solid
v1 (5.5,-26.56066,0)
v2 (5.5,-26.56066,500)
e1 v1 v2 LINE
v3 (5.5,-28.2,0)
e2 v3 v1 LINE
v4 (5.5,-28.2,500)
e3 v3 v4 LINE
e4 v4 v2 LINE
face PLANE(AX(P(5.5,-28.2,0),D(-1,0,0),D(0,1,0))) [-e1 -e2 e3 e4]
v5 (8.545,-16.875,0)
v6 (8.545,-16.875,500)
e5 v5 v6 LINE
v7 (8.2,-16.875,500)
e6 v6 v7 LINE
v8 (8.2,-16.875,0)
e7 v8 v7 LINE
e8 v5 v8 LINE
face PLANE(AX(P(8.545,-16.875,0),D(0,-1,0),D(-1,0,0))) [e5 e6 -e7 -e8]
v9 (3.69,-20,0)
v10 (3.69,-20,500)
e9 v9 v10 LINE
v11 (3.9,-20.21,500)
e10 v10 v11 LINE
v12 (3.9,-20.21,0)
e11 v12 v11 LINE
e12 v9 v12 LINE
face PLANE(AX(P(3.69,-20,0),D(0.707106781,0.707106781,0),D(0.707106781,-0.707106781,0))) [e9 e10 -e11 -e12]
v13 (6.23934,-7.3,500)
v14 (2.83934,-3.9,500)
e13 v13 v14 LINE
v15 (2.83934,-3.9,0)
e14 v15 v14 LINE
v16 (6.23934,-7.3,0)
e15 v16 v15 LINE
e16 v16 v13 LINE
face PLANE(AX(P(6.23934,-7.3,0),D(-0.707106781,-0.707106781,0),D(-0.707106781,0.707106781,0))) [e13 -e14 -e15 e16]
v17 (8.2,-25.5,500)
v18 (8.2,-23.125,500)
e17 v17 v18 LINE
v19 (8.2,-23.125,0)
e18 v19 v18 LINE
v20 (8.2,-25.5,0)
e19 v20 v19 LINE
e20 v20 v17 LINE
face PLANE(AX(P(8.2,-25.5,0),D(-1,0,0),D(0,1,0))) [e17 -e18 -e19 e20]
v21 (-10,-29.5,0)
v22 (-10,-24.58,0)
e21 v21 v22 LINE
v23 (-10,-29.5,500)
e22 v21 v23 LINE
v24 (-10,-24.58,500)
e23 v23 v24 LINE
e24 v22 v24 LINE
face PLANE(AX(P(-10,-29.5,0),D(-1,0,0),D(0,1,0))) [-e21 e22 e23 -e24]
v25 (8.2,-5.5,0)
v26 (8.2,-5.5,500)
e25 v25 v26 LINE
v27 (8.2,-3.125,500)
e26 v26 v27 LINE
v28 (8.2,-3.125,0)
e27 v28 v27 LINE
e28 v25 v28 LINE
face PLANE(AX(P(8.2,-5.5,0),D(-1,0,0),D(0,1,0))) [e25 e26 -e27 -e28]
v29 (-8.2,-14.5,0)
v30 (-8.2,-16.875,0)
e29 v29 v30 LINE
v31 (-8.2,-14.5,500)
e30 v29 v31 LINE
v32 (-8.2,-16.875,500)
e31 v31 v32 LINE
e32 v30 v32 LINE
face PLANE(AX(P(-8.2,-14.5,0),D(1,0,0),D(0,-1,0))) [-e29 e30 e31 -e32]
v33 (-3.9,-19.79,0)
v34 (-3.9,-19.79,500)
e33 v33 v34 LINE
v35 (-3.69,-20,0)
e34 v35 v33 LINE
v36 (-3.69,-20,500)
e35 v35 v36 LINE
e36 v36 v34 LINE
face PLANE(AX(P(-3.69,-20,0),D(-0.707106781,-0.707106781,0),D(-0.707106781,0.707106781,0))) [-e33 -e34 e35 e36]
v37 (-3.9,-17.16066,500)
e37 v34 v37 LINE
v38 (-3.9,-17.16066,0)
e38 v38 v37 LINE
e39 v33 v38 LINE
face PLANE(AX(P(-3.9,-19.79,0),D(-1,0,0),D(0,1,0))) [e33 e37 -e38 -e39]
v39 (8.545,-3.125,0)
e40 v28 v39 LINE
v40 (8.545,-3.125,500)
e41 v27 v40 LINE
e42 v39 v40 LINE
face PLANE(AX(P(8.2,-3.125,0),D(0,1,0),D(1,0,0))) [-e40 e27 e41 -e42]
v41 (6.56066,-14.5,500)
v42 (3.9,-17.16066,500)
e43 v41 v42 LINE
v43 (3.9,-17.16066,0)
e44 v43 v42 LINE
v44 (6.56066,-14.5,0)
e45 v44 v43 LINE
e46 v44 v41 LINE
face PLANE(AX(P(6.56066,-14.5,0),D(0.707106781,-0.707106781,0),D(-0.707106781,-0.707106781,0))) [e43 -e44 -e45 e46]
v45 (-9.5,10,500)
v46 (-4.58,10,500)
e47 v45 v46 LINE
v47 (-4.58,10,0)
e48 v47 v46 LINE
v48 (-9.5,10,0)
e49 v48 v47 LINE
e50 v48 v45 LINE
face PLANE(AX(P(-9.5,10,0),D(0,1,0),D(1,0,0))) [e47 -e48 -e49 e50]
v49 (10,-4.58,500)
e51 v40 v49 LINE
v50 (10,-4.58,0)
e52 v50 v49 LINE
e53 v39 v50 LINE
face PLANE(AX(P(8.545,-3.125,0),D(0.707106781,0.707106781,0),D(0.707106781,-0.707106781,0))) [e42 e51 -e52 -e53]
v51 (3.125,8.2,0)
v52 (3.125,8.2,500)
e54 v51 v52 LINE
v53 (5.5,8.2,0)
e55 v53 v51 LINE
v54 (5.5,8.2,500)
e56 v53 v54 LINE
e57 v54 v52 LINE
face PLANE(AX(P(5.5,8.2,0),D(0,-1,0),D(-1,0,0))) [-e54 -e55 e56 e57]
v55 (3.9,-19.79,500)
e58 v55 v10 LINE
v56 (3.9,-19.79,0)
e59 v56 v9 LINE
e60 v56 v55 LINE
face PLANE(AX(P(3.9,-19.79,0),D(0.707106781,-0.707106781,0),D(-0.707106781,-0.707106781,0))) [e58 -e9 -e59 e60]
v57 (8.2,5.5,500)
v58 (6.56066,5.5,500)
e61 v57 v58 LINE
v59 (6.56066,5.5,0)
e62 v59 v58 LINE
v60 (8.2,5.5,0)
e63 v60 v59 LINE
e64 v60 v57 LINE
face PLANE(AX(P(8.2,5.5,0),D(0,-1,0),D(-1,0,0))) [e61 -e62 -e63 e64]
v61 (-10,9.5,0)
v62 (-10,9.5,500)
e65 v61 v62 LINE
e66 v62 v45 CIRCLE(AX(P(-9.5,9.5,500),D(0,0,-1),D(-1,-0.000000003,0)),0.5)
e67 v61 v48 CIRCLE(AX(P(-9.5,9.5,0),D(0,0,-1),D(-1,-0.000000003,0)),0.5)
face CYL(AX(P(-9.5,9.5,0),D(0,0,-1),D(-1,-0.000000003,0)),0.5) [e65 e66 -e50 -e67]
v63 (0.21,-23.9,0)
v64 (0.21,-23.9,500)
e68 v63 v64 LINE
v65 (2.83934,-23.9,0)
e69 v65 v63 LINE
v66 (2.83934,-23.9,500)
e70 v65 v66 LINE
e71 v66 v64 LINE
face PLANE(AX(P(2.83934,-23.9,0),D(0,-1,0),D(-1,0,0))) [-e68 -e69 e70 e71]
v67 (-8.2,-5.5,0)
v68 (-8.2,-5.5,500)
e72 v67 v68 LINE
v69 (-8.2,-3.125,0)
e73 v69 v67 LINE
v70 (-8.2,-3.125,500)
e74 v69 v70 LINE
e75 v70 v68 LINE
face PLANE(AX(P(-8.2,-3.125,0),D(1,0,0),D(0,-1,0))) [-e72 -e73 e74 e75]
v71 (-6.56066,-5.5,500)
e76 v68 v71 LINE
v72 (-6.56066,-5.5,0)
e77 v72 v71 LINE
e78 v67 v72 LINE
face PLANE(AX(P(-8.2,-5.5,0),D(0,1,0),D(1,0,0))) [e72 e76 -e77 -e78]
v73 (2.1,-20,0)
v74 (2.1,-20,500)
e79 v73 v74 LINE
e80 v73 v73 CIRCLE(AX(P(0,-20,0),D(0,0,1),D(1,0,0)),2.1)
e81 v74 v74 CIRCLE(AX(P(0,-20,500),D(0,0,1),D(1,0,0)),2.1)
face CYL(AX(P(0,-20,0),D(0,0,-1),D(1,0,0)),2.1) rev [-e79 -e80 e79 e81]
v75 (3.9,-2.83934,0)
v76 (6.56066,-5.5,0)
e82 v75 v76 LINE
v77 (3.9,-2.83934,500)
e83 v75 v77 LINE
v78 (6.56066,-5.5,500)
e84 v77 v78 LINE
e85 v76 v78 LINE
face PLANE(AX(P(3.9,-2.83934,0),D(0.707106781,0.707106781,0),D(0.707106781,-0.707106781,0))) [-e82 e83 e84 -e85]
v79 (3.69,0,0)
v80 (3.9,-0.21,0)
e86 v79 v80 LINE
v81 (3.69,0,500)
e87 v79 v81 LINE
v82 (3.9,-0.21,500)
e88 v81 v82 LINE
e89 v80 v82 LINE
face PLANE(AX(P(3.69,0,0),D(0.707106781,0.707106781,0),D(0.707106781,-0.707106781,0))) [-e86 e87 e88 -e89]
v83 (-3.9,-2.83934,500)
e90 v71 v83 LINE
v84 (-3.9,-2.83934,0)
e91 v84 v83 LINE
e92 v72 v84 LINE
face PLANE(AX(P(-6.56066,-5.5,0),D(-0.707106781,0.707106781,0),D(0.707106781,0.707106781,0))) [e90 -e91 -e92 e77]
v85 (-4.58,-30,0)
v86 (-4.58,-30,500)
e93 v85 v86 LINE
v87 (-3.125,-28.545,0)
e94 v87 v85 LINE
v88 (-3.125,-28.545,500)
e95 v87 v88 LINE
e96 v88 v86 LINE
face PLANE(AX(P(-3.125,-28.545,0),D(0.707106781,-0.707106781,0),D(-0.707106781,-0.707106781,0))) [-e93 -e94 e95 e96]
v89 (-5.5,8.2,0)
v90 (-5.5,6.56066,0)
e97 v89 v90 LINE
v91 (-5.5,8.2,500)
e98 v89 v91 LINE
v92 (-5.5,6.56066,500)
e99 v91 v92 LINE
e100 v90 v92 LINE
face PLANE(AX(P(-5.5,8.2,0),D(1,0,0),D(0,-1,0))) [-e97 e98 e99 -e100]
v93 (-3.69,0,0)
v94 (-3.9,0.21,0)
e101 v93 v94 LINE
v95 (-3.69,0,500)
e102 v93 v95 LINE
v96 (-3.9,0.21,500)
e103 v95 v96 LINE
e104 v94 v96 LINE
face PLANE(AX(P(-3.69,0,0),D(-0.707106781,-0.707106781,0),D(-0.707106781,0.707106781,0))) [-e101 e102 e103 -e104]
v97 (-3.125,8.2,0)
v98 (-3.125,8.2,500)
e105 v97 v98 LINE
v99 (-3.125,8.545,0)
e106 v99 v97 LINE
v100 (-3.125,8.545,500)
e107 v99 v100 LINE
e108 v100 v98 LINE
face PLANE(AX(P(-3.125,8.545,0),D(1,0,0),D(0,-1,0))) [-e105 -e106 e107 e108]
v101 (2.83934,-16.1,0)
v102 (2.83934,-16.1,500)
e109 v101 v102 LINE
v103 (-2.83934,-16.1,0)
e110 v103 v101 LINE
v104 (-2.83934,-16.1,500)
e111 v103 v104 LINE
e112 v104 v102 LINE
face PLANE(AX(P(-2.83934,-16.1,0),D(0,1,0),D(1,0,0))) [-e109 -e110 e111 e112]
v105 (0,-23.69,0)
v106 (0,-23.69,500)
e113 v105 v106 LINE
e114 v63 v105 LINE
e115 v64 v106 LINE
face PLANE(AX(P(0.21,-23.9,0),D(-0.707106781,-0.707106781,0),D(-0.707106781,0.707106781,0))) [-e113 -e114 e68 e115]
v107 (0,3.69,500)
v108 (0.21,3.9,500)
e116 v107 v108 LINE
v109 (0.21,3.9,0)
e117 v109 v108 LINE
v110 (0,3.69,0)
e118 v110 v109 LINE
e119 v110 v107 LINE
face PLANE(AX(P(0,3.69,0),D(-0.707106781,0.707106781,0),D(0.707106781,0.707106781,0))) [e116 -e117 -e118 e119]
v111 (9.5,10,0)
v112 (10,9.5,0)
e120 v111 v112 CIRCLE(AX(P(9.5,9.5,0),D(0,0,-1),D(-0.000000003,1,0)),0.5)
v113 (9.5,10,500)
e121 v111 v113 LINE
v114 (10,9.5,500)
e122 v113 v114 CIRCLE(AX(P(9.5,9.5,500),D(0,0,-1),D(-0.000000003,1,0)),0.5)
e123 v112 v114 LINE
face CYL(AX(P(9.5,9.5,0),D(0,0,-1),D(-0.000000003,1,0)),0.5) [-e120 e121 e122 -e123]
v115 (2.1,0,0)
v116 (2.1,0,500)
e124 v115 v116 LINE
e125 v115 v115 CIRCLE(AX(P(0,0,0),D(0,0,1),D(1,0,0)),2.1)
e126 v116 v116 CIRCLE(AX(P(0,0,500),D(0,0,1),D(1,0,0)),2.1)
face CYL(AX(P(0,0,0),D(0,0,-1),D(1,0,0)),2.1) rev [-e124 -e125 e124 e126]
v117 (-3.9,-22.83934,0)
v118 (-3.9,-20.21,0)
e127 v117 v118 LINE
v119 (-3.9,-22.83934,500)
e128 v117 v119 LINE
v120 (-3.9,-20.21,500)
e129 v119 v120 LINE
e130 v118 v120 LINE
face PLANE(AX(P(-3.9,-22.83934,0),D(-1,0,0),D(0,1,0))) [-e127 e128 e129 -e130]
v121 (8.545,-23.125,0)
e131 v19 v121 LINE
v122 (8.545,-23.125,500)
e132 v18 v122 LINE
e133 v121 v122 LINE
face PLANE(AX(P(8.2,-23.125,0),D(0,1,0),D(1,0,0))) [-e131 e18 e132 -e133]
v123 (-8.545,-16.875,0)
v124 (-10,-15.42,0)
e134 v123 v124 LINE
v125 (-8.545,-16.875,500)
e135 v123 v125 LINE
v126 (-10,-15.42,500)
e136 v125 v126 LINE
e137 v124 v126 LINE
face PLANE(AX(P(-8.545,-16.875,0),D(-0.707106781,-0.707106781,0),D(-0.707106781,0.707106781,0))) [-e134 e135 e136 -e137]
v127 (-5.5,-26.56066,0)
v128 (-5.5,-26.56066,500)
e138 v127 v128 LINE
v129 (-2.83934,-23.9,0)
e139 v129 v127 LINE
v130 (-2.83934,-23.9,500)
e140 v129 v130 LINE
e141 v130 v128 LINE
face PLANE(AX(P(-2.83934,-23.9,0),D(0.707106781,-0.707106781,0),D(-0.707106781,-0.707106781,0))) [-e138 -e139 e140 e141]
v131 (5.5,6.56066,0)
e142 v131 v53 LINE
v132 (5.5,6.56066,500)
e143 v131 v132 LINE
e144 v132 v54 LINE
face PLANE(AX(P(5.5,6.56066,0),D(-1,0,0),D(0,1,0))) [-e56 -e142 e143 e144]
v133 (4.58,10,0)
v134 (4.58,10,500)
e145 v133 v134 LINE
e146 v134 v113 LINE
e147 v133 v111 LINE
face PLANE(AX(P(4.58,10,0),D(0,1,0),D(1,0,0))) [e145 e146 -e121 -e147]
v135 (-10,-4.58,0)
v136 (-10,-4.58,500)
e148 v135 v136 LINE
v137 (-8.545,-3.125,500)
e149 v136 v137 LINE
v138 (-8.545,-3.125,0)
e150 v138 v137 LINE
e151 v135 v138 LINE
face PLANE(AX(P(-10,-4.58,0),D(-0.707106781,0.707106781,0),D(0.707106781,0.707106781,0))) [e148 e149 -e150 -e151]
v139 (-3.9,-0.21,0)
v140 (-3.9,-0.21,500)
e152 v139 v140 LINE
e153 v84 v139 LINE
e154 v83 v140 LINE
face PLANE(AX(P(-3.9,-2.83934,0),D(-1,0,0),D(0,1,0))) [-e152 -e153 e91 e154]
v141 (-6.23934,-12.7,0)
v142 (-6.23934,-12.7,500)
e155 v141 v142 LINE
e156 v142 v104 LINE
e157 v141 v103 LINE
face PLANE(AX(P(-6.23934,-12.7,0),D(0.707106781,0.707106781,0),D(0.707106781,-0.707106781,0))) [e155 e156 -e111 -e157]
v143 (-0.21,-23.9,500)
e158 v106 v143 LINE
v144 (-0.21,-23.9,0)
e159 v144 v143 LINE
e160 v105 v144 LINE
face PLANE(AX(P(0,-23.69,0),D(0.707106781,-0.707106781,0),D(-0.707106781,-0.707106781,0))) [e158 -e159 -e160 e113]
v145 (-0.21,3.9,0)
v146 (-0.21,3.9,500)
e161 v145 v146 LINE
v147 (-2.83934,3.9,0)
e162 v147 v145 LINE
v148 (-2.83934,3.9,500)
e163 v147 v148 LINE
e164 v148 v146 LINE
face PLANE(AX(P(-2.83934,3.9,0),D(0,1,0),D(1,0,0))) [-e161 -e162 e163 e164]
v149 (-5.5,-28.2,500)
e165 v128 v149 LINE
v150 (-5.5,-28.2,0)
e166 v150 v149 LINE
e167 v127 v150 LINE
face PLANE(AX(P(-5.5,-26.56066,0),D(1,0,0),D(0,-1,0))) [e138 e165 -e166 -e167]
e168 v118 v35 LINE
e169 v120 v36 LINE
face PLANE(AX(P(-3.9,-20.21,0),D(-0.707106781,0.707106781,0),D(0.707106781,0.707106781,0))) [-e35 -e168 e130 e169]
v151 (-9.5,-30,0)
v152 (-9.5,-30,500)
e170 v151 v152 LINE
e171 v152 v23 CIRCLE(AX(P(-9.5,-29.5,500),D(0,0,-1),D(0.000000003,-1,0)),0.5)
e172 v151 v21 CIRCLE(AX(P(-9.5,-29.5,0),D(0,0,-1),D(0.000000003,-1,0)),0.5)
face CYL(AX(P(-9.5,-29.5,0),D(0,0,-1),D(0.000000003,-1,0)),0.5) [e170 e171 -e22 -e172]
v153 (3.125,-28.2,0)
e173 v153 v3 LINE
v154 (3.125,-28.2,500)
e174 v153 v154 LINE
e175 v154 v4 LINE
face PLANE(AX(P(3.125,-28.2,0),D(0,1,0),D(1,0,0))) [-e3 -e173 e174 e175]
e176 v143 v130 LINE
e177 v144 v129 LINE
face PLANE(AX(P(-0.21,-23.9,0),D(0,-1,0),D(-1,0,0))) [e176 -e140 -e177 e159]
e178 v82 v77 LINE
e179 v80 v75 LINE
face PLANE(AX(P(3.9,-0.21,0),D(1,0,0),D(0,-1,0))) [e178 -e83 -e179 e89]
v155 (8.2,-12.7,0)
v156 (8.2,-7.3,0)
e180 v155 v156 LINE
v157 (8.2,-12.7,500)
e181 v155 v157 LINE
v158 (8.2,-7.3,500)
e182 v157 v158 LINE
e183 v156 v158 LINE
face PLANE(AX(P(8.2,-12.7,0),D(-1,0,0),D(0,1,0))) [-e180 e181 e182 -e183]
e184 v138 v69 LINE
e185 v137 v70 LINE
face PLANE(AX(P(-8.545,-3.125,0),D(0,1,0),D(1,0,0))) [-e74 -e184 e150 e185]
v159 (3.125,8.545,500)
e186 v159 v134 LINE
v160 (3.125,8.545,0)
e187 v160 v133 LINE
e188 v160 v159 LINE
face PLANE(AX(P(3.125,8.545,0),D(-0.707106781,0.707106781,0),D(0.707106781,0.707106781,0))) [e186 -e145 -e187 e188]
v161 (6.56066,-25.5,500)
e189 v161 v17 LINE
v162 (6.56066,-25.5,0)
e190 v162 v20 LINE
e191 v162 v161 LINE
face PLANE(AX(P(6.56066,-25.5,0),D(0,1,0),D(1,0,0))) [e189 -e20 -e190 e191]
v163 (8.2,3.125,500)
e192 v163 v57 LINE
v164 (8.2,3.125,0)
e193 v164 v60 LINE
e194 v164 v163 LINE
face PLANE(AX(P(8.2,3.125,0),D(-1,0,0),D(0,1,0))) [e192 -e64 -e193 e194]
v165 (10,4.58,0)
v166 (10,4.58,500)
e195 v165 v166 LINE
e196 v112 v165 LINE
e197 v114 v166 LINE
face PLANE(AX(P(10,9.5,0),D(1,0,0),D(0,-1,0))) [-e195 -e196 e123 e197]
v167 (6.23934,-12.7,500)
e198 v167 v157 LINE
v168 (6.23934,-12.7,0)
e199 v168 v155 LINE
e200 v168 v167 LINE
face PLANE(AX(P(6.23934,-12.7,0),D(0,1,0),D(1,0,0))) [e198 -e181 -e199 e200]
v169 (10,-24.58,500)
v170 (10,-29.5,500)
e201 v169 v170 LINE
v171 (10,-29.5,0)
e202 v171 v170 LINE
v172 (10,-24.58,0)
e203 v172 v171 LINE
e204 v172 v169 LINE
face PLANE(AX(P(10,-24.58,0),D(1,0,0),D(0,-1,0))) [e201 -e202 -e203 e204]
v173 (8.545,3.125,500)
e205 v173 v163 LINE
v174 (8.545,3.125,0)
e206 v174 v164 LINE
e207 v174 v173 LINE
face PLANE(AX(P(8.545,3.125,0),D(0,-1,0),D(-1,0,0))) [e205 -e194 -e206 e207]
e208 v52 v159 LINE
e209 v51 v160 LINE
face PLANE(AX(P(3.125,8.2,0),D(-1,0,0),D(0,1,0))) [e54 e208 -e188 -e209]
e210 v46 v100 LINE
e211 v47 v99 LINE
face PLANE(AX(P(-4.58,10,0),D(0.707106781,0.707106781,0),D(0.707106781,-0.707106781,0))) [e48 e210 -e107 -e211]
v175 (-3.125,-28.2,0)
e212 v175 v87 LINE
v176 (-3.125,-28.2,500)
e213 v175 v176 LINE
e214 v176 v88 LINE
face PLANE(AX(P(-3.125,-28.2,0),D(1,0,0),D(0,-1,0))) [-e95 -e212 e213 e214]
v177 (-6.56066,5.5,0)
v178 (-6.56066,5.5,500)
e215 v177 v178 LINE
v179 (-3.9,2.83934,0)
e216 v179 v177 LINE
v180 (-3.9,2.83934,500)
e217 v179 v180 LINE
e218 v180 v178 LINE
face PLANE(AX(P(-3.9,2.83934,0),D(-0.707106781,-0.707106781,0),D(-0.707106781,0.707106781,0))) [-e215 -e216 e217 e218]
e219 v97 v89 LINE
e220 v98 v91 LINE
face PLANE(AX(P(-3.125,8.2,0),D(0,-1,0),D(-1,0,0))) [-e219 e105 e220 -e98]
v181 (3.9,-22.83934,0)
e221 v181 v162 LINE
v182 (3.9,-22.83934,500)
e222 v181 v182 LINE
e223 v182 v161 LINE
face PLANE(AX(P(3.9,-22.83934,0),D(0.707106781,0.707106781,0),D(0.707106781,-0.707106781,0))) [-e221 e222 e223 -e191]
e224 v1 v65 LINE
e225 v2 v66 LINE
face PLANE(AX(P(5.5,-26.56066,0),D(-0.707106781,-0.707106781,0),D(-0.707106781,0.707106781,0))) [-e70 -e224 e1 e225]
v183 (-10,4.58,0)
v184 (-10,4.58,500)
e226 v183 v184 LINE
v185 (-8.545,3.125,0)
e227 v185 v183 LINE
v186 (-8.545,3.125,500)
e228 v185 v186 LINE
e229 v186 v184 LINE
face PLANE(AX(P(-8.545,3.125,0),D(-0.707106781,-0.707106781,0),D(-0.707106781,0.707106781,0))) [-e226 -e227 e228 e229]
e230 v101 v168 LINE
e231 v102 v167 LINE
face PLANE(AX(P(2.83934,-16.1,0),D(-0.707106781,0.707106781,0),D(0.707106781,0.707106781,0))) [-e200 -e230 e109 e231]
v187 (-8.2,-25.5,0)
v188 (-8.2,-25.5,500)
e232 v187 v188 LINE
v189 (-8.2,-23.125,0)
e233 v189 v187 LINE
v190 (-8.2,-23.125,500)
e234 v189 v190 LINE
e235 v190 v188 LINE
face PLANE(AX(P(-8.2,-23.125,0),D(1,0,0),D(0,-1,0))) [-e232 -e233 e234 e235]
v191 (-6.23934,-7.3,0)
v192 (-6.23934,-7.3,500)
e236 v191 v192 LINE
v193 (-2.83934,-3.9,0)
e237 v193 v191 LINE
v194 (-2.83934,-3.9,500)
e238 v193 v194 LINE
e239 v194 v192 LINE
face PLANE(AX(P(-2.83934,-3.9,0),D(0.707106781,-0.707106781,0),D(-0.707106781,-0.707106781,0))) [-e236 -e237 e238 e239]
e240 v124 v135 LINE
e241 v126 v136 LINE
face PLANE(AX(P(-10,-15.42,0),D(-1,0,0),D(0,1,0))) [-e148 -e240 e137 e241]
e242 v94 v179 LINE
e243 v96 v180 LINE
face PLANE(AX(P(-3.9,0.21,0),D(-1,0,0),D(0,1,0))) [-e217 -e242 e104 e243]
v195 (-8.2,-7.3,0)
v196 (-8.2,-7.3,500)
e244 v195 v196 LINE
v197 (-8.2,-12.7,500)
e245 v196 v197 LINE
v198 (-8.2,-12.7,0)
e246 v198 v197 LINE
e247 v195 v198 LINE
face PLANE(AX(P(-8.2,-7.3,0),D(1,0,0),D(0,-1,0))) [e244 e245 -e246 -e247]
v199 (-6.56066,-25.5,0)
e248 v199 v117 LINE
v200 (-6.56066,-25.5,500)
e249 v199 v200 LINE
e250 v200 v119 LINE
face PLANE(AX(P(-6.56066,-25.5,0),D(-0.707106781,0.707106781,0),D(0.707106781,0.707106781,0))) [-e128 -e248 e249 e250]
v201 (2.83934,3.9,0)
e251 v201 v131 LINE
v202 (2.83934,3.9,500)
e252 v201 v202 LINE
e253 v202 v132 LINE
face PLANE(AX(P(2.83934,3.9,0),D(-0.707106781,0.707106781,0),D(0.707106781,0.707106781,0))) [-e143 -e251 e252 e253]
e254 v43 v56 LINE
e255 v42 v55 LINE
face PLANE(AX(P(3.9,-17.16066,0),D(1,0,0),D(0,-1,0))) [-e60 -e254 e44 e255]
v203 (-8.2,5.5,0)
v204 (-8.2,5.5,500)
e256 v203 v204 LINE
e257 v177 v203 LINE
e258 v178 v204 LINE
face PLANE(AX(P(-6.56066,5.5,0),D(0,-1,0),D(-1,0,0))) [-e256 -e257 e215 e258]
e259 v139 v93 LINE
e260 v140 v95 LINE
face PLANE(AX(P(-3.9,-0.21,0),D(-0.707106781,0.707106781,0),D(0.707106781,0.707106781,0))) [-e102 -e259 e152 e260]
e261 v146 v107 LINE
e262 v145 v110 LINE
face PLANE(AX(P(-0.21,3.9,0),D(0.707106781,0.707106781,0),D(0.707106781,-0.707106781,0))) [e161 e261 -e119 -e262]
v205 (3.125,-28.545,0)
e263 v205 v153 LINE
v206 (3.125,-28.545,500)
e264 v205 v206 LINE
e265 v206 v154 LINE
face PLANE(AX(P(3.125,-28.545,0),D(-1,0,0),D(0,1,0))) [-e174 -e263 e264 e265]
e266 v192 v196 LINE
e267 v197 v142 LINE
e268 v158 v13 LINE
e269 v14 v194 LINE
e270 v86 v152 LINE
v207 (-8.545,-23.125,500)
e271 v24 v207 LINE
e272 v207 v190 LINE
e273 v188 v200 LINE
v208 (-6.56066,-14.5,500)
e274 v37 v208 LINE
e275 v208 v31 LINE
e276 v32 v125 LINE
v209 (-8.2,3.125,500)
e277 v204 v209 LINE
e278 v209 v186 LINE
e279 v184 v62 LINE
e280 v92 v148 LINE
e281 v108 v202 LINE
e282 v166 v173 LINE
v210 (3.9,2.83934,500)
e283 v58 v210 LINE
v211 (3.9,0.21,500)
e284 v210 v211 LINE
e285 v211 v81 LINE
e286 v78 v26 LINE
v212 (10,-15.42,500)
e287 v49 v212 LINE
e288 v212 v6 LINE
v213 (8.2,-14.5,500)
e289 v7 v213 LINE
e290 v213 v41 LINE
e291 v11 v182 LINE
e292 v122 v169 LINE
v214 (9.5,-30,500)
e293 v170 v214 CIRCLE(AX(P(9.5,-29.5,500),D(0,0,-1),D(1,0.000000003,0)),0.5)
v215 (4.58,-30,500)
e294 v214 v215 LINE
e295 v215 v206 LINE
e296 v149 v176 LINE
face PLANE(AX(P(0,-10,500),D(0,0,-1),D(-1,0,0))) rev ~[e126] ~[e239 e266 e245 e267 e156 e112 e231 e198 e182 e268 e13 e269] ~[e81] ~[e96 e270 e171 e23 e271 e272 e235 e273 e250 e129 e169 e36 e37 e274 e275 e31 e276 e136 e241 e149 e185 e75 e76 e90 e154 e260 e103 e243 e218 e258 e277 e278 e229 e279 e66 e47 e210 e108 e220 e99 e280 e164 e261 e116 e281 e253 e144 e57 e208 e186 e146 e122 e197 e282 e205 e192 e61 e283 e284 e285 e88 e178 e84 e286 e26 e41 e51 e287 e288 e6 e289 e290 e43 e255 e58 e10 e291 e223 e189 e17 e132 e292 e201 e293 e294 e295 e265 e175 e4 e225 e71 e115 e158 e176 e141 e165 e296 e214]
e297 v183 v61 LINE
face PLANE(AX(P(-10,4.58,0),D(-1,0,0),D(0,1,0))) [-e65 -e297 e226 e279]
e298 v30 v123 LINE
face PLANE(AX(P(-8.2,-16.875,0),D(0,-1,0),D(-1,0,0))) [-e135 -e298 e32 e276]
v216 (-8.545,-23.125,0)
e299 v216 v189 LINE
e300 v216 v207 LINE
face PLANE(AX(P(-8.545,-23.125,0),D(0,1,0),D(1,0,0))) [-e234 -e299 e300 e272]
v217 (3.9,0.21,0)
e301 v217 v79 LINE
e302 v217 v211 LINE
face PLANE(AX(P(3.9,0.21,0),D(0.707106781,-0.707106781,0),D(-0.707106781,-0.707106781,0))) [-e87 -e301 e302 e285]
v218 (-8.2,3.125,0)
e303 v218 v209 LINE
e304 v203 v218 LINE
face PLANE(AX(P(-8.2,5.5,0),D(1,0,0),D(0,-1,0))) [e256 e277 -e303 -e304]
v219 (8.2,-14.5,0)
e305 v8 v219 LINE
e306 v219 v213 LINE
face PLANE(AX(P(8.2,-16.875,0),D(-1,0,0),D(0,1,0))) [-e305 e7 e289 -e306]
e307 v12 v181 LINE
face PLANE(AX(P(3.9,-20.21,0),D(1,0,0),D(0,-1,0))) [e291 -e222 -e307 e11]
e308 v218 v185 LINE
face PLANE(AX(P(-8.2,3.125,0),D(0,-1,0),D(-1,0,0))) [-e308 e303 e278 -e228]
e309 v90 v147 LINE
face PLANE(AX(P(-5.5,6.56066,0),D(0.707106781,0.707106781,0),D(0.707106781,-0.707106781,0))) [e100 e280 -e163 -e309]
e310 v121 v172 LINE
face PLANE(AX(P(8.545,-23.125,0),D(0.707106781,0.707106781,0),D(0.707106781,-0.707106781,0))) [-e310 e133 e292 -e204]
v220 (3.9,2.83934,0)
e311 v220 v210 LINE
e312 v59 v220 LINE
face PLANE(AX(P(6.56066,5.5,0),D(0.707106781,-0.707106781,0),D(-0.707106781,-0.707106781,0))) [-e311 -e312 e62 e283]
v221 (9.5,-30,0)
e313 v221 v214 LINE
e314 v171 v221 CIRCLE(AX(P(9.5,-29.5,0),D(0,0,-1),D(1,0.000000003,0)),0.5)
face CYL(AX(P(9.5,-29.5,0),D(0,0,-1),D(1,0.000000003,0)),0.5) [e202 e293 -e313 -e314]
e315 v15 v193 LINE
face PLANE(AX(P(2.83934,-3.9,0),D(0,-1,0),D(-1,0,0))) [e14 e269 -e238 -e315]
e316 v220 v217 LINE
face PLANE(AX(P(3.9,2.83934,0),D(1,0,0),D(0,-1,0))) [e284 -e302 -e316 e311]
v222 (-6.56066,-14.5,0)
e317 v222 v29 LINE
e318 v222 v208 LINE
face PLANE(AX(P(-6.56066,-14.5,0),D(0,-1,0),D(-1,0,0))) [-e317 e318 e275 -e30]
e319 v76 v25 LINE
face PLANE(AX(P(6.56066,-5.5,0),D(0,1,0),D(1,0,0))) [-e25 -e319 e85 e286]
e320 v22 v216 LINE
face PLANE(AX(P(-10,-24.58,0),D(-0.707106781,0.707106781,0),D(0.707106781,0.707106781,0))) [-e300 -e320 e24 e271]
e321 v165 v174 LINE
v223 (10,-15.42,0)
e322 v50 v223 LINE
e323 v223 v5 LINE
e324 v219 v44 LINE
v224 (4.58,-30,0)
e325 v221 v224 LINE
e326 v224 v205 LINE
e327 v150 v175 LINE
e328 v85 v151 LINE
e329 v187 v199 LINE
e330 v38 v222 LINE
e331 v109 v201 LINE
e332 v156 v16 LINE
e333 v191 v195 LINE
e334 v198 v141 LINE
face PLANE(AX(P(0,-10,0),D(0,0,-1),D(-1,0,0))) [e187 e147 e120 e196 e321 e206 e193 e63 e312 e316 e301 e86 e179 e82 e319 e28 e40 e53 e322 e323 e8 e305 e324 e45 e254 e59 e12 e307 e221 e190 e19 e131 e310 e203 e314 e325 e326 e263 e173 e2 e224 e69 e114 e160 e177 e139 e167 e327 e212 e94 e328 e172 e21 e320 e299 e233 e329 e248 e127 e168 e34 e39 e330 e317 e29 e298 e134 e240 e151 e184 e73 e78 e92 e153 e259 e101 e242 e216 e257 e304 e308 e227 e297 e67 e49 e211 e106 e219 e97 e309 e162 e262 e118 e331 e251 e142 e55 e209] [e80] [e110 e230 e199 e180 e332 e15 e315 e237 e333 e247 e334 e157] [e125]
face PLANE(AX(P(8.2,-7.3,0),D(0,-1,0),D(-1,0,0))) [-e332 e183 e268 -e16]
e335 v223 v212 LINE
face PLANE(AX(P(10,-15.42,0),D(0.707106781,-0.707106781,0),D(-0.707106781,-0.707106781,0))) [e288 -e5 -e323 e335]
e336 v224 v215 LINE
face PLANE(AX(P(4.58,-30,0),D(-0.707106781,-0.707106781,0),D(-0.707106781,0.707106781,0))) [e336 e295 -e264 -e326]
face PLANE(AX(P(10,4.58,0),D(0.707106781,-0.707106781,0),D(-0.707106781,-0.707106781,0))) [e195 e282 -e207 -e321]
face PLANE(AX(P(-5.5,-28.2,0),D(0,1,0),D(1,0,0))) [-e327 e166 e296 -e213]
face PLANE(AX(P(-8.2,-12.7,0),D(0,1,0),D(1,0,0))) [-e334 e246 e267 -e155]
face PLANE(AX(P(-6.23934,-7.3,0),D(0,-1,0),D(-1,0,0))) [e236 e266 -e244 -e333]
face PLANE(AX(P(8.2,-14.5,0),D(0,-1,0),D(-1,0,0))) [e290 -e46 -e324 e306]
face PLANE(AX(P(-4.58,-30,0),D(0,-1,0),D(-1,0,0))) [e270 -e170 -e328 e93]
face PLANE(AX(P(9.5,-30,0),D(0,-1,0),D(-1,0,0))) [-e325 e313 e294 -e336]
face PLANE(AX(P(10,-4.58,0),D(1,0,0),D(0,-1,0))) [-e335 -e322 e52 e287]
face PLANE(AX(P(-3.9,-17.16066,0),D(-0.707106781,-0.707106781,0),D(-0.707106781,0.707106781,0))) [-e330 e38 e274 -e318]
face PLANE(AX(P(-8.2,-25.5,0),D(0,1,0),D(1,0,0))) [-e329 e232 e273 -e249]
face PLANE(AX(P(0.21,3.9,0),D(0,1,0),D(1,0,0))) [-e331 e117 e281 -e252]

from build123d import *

# Parameters (mm, degrees)
SKETCH1_R           = 2.1
BOSS_EXTRUDE1_DEPTH = 500


with BuildPart() as part:
    # Sketch1 → Boss-Extrude1 (new body)
    with BuildSketch(Plane.XY):
        with BuildLine():
            Line((3.69, 0), (3.9, -0.21))
            Line((3.9, -0.21), (3.9, -2.839339828))
            Line((3.9, -2.839339828), (6.560660172, -5.5))
            Line((6.560660172, -5.5), (8.2, -5.5))
            Line((8.2, -5.5), (8.2, -3.125))
            Line((8.2, -3.125), (8.545, -3.125))
            Line((8.545, -3.125), (10, -4.58))
            Line((10, -4.58), (10, -15.42))
            Line((10, -15.42), (8.545, -16.875))
            Line((8.545, -16.875), (8.2, -16.875))
            Line((8.2, -16.875), (8.2, -14.5))
            Line((8.2, -14.5), (6.560660172, -14.5))
            Line((6.560660172, -14.5), (3.9, -17.160660172))
            Line((3.9, -17.160660172), (3.9, -19.79))
            Line((3.9, -19.79), (3.69, -20))
            Line((3.69, -20), (3.9, -20.21))
            Line((3.9, -20.21), (3.9, -22.839339828))
            Line((3.9, -22.839339828), (6.560660172, -25.5))
            Line((6.560660172, -25.5), (8.2, -25.5))
            Line((8.2, -25.5), (8.2, -23.125))
            Line((8.2, -23.125), (8.545, -23.125))
            Line((8.545, -23.125), (10, -24.58))
            Line((10, -24.58), (10, -29.5))
            ThreePointArc((10, -29.5), (9.853553391, -29.853553391), (9.5, -30))
            Line((9.5, -30), (4.58, -30))
            Line((4.58, -30), (3.125, -28.545))
            Line((3.125, -28.545), (3.125, -28.2))
            Line((3.125, -28.2), (5.5, -28.2))
            Line((5.5, -28.2), (5.5, -26.560660172))
            Line((5.5, -26.560660172), (2.839339828, -23.9))
            Line((2.839339828, -23.9), (0.21, -23.9))
            Line((0.21, -23.9), (0, -23.69))
            Line((0, -23.69), (-0.21, -23.9))
            Line((-0.21, -23.9), (-2.839339828, -23.9))
            Line((-2.839339828, -23.9), (-5.5, -26.560660172))
            Line((-5.5, -26.560660172), (-5.5, -28.2))
            Line((-5.5, -28.2), (-3.125, -28.2))
            Line((-3.125, -28.2), (-3.125, -28.545))
            Line((-3.125, -28.545), (-4.58, -30))
            Line((-4.58, -30), (-9.5, -30))
            ThreePointArc((-9.5, -30), (-9.853553391, -29.853553391), (-10, -29.5))
            Line((-10, -29.5), (-10, -24.58))
            Line((-10, -24.58), (-8.545, -23.125))
            Line((-8.545, -23.125), (-8.2, -23.125))
            Line((-8.2, -23.125), (-8.2, -25.5))
            Line((-8.2, -25.5), (-6.560660172, -25.5))
            Line((-6.560660172, -25.5), (-3.9, -22.839339828))
            Line((-3.9, -22.839339828), (-3.9, -20.21))
            Line((-3.9, -20.21), (-3.69, -20))
            Line((-3.69, -20), (-3.9, -19.79))
            Line((-3.9, -19.79), (-3.9, -17.160660172))
            Line((-3.9, -17.160660172), (-6.560660172, -14.5))
            Line((-6.560660172, -14.5), (-8.2, -14.5))
            Line((-8.2, -14.5), (-8.2, -16.875))
            Line((-8.2, -16.875), (-8.545, -16.875))
            Line((-8.545, -16.875), (-10, -15.42))
            Line((-10, -15.42), (-10, -4.58))
            Line((-10, -4.58), (-8.545, -3.125))
            Line((-8.545, -3.125), (-8.2, -3.125))
            Line((-8.2, -3.125), (-8.2, -5.5))
            Line((-8.2, -5.5), (-6.560660172, -5.5))
            Line((-6.560660172, -5.5), (-3.9, -2.839339828))
            Line((-3.9, -2.839339828), (-3.9, -0.21))
            Line((-3.9, -0.21), (-3.69, 0))
            Line((-3.69, 0), (-3.9, 0.21))
            Line((-3.9, 0.21), (-3.9, 2.839339828))
            Line((-3.9, 2.839339828), (-6.560660172, 5.5))
            Line((-6.560660172, 5.5), (-8.2, 5.5))
            Line((-8.2, 5.5), (-8.2, 3.125))
            Line((-8.2, 3.125), (-8.545, 3.125))
            Line((-8.545, 3.125), (-10, 4.58))
            Line((-10, 4.58), (-10, 9.5))
            ThreePointArc((-10, 9.5), (-9.853553391, 9.853553391), (-9.5, 10))
            Line((-9.5, 10), (-4.58, 10))
            Line((-4.58, 10), (-3.125, 8.545))
            Line((-3.125, 8.545), (-3.125, 8.2))
            Line((-3.125, 8.2), (-5.5, 8.2))
            Line((-5.5, 8.2), (-5.5, 6.560660172))
            Line((-5.5, 6.560660172), (-2.839339828, 3.9))
            Line((-2.839339828, 3.9), (-0.21, 3.9))
            Line((-0.21, 3.9), (0, 3.69))
            Line((0, 3.69), (0.21, 3.9))
            Line((0.21, 3.9), (2.839339828, 3.9))
            Line((2.839339828, 3.9), (5.5, 6.560660172))
            Line((5.5, 6.560660172), (5.5, 8.2))
            Line((5.5, 8.2), (3.125, 8.2))
            Line((3.125, 8.2), (3.125, 8.545))
            Line((3.125, 8.545), (4.58, 10))
            Line((4.58, 10), (9.5, 10))
            ThreePointArc((9.5, 10), (9.853553391, 9.853553391), (10, 9.5))
            Line((10, 9.5), (10, 4.58))
            Line((10, 4.58), (8.545, 3.125))
            Line((8.545, 3.125), (8.2, 3.125))
            Line((8.2, 3.125), (8.2, 5.5))
            Line((8.2, 5.5), (6.560660172, 5.5))
            Line((6.560660172, 5.5), (3.9, 2.839339828))
            Line((3.9, 2.839339828), (3.9, 0.21))
            Line((3.9, 0.21), (3.69, 0))
        make_face()
        with Locations((0, -20)):
            Circle(SKETCH1_R, mode=Mode.SUBTRACT)
        Circle(SKETCH1_R, mode=Mode.SUBTRACT)
        Polygon((-8.2, -12.7), (-6.239339828, -12.7), (-2.839339828, -16.1), (2.839339828, -16.1), (6.239339828, -12.7), (8.2, -12.7), (8.2, -7.3), (6.239339828, -7.3), (2.839339828, -3.9), (-2.839339828, -3.9), (-6.239339828, -7.3), (-8.2, -7.3), align=None, mode=Mode.SUBTRACT)
    extrude(amount=BOSS_EXTRUDE1_DEPTH)


solid = part.part
